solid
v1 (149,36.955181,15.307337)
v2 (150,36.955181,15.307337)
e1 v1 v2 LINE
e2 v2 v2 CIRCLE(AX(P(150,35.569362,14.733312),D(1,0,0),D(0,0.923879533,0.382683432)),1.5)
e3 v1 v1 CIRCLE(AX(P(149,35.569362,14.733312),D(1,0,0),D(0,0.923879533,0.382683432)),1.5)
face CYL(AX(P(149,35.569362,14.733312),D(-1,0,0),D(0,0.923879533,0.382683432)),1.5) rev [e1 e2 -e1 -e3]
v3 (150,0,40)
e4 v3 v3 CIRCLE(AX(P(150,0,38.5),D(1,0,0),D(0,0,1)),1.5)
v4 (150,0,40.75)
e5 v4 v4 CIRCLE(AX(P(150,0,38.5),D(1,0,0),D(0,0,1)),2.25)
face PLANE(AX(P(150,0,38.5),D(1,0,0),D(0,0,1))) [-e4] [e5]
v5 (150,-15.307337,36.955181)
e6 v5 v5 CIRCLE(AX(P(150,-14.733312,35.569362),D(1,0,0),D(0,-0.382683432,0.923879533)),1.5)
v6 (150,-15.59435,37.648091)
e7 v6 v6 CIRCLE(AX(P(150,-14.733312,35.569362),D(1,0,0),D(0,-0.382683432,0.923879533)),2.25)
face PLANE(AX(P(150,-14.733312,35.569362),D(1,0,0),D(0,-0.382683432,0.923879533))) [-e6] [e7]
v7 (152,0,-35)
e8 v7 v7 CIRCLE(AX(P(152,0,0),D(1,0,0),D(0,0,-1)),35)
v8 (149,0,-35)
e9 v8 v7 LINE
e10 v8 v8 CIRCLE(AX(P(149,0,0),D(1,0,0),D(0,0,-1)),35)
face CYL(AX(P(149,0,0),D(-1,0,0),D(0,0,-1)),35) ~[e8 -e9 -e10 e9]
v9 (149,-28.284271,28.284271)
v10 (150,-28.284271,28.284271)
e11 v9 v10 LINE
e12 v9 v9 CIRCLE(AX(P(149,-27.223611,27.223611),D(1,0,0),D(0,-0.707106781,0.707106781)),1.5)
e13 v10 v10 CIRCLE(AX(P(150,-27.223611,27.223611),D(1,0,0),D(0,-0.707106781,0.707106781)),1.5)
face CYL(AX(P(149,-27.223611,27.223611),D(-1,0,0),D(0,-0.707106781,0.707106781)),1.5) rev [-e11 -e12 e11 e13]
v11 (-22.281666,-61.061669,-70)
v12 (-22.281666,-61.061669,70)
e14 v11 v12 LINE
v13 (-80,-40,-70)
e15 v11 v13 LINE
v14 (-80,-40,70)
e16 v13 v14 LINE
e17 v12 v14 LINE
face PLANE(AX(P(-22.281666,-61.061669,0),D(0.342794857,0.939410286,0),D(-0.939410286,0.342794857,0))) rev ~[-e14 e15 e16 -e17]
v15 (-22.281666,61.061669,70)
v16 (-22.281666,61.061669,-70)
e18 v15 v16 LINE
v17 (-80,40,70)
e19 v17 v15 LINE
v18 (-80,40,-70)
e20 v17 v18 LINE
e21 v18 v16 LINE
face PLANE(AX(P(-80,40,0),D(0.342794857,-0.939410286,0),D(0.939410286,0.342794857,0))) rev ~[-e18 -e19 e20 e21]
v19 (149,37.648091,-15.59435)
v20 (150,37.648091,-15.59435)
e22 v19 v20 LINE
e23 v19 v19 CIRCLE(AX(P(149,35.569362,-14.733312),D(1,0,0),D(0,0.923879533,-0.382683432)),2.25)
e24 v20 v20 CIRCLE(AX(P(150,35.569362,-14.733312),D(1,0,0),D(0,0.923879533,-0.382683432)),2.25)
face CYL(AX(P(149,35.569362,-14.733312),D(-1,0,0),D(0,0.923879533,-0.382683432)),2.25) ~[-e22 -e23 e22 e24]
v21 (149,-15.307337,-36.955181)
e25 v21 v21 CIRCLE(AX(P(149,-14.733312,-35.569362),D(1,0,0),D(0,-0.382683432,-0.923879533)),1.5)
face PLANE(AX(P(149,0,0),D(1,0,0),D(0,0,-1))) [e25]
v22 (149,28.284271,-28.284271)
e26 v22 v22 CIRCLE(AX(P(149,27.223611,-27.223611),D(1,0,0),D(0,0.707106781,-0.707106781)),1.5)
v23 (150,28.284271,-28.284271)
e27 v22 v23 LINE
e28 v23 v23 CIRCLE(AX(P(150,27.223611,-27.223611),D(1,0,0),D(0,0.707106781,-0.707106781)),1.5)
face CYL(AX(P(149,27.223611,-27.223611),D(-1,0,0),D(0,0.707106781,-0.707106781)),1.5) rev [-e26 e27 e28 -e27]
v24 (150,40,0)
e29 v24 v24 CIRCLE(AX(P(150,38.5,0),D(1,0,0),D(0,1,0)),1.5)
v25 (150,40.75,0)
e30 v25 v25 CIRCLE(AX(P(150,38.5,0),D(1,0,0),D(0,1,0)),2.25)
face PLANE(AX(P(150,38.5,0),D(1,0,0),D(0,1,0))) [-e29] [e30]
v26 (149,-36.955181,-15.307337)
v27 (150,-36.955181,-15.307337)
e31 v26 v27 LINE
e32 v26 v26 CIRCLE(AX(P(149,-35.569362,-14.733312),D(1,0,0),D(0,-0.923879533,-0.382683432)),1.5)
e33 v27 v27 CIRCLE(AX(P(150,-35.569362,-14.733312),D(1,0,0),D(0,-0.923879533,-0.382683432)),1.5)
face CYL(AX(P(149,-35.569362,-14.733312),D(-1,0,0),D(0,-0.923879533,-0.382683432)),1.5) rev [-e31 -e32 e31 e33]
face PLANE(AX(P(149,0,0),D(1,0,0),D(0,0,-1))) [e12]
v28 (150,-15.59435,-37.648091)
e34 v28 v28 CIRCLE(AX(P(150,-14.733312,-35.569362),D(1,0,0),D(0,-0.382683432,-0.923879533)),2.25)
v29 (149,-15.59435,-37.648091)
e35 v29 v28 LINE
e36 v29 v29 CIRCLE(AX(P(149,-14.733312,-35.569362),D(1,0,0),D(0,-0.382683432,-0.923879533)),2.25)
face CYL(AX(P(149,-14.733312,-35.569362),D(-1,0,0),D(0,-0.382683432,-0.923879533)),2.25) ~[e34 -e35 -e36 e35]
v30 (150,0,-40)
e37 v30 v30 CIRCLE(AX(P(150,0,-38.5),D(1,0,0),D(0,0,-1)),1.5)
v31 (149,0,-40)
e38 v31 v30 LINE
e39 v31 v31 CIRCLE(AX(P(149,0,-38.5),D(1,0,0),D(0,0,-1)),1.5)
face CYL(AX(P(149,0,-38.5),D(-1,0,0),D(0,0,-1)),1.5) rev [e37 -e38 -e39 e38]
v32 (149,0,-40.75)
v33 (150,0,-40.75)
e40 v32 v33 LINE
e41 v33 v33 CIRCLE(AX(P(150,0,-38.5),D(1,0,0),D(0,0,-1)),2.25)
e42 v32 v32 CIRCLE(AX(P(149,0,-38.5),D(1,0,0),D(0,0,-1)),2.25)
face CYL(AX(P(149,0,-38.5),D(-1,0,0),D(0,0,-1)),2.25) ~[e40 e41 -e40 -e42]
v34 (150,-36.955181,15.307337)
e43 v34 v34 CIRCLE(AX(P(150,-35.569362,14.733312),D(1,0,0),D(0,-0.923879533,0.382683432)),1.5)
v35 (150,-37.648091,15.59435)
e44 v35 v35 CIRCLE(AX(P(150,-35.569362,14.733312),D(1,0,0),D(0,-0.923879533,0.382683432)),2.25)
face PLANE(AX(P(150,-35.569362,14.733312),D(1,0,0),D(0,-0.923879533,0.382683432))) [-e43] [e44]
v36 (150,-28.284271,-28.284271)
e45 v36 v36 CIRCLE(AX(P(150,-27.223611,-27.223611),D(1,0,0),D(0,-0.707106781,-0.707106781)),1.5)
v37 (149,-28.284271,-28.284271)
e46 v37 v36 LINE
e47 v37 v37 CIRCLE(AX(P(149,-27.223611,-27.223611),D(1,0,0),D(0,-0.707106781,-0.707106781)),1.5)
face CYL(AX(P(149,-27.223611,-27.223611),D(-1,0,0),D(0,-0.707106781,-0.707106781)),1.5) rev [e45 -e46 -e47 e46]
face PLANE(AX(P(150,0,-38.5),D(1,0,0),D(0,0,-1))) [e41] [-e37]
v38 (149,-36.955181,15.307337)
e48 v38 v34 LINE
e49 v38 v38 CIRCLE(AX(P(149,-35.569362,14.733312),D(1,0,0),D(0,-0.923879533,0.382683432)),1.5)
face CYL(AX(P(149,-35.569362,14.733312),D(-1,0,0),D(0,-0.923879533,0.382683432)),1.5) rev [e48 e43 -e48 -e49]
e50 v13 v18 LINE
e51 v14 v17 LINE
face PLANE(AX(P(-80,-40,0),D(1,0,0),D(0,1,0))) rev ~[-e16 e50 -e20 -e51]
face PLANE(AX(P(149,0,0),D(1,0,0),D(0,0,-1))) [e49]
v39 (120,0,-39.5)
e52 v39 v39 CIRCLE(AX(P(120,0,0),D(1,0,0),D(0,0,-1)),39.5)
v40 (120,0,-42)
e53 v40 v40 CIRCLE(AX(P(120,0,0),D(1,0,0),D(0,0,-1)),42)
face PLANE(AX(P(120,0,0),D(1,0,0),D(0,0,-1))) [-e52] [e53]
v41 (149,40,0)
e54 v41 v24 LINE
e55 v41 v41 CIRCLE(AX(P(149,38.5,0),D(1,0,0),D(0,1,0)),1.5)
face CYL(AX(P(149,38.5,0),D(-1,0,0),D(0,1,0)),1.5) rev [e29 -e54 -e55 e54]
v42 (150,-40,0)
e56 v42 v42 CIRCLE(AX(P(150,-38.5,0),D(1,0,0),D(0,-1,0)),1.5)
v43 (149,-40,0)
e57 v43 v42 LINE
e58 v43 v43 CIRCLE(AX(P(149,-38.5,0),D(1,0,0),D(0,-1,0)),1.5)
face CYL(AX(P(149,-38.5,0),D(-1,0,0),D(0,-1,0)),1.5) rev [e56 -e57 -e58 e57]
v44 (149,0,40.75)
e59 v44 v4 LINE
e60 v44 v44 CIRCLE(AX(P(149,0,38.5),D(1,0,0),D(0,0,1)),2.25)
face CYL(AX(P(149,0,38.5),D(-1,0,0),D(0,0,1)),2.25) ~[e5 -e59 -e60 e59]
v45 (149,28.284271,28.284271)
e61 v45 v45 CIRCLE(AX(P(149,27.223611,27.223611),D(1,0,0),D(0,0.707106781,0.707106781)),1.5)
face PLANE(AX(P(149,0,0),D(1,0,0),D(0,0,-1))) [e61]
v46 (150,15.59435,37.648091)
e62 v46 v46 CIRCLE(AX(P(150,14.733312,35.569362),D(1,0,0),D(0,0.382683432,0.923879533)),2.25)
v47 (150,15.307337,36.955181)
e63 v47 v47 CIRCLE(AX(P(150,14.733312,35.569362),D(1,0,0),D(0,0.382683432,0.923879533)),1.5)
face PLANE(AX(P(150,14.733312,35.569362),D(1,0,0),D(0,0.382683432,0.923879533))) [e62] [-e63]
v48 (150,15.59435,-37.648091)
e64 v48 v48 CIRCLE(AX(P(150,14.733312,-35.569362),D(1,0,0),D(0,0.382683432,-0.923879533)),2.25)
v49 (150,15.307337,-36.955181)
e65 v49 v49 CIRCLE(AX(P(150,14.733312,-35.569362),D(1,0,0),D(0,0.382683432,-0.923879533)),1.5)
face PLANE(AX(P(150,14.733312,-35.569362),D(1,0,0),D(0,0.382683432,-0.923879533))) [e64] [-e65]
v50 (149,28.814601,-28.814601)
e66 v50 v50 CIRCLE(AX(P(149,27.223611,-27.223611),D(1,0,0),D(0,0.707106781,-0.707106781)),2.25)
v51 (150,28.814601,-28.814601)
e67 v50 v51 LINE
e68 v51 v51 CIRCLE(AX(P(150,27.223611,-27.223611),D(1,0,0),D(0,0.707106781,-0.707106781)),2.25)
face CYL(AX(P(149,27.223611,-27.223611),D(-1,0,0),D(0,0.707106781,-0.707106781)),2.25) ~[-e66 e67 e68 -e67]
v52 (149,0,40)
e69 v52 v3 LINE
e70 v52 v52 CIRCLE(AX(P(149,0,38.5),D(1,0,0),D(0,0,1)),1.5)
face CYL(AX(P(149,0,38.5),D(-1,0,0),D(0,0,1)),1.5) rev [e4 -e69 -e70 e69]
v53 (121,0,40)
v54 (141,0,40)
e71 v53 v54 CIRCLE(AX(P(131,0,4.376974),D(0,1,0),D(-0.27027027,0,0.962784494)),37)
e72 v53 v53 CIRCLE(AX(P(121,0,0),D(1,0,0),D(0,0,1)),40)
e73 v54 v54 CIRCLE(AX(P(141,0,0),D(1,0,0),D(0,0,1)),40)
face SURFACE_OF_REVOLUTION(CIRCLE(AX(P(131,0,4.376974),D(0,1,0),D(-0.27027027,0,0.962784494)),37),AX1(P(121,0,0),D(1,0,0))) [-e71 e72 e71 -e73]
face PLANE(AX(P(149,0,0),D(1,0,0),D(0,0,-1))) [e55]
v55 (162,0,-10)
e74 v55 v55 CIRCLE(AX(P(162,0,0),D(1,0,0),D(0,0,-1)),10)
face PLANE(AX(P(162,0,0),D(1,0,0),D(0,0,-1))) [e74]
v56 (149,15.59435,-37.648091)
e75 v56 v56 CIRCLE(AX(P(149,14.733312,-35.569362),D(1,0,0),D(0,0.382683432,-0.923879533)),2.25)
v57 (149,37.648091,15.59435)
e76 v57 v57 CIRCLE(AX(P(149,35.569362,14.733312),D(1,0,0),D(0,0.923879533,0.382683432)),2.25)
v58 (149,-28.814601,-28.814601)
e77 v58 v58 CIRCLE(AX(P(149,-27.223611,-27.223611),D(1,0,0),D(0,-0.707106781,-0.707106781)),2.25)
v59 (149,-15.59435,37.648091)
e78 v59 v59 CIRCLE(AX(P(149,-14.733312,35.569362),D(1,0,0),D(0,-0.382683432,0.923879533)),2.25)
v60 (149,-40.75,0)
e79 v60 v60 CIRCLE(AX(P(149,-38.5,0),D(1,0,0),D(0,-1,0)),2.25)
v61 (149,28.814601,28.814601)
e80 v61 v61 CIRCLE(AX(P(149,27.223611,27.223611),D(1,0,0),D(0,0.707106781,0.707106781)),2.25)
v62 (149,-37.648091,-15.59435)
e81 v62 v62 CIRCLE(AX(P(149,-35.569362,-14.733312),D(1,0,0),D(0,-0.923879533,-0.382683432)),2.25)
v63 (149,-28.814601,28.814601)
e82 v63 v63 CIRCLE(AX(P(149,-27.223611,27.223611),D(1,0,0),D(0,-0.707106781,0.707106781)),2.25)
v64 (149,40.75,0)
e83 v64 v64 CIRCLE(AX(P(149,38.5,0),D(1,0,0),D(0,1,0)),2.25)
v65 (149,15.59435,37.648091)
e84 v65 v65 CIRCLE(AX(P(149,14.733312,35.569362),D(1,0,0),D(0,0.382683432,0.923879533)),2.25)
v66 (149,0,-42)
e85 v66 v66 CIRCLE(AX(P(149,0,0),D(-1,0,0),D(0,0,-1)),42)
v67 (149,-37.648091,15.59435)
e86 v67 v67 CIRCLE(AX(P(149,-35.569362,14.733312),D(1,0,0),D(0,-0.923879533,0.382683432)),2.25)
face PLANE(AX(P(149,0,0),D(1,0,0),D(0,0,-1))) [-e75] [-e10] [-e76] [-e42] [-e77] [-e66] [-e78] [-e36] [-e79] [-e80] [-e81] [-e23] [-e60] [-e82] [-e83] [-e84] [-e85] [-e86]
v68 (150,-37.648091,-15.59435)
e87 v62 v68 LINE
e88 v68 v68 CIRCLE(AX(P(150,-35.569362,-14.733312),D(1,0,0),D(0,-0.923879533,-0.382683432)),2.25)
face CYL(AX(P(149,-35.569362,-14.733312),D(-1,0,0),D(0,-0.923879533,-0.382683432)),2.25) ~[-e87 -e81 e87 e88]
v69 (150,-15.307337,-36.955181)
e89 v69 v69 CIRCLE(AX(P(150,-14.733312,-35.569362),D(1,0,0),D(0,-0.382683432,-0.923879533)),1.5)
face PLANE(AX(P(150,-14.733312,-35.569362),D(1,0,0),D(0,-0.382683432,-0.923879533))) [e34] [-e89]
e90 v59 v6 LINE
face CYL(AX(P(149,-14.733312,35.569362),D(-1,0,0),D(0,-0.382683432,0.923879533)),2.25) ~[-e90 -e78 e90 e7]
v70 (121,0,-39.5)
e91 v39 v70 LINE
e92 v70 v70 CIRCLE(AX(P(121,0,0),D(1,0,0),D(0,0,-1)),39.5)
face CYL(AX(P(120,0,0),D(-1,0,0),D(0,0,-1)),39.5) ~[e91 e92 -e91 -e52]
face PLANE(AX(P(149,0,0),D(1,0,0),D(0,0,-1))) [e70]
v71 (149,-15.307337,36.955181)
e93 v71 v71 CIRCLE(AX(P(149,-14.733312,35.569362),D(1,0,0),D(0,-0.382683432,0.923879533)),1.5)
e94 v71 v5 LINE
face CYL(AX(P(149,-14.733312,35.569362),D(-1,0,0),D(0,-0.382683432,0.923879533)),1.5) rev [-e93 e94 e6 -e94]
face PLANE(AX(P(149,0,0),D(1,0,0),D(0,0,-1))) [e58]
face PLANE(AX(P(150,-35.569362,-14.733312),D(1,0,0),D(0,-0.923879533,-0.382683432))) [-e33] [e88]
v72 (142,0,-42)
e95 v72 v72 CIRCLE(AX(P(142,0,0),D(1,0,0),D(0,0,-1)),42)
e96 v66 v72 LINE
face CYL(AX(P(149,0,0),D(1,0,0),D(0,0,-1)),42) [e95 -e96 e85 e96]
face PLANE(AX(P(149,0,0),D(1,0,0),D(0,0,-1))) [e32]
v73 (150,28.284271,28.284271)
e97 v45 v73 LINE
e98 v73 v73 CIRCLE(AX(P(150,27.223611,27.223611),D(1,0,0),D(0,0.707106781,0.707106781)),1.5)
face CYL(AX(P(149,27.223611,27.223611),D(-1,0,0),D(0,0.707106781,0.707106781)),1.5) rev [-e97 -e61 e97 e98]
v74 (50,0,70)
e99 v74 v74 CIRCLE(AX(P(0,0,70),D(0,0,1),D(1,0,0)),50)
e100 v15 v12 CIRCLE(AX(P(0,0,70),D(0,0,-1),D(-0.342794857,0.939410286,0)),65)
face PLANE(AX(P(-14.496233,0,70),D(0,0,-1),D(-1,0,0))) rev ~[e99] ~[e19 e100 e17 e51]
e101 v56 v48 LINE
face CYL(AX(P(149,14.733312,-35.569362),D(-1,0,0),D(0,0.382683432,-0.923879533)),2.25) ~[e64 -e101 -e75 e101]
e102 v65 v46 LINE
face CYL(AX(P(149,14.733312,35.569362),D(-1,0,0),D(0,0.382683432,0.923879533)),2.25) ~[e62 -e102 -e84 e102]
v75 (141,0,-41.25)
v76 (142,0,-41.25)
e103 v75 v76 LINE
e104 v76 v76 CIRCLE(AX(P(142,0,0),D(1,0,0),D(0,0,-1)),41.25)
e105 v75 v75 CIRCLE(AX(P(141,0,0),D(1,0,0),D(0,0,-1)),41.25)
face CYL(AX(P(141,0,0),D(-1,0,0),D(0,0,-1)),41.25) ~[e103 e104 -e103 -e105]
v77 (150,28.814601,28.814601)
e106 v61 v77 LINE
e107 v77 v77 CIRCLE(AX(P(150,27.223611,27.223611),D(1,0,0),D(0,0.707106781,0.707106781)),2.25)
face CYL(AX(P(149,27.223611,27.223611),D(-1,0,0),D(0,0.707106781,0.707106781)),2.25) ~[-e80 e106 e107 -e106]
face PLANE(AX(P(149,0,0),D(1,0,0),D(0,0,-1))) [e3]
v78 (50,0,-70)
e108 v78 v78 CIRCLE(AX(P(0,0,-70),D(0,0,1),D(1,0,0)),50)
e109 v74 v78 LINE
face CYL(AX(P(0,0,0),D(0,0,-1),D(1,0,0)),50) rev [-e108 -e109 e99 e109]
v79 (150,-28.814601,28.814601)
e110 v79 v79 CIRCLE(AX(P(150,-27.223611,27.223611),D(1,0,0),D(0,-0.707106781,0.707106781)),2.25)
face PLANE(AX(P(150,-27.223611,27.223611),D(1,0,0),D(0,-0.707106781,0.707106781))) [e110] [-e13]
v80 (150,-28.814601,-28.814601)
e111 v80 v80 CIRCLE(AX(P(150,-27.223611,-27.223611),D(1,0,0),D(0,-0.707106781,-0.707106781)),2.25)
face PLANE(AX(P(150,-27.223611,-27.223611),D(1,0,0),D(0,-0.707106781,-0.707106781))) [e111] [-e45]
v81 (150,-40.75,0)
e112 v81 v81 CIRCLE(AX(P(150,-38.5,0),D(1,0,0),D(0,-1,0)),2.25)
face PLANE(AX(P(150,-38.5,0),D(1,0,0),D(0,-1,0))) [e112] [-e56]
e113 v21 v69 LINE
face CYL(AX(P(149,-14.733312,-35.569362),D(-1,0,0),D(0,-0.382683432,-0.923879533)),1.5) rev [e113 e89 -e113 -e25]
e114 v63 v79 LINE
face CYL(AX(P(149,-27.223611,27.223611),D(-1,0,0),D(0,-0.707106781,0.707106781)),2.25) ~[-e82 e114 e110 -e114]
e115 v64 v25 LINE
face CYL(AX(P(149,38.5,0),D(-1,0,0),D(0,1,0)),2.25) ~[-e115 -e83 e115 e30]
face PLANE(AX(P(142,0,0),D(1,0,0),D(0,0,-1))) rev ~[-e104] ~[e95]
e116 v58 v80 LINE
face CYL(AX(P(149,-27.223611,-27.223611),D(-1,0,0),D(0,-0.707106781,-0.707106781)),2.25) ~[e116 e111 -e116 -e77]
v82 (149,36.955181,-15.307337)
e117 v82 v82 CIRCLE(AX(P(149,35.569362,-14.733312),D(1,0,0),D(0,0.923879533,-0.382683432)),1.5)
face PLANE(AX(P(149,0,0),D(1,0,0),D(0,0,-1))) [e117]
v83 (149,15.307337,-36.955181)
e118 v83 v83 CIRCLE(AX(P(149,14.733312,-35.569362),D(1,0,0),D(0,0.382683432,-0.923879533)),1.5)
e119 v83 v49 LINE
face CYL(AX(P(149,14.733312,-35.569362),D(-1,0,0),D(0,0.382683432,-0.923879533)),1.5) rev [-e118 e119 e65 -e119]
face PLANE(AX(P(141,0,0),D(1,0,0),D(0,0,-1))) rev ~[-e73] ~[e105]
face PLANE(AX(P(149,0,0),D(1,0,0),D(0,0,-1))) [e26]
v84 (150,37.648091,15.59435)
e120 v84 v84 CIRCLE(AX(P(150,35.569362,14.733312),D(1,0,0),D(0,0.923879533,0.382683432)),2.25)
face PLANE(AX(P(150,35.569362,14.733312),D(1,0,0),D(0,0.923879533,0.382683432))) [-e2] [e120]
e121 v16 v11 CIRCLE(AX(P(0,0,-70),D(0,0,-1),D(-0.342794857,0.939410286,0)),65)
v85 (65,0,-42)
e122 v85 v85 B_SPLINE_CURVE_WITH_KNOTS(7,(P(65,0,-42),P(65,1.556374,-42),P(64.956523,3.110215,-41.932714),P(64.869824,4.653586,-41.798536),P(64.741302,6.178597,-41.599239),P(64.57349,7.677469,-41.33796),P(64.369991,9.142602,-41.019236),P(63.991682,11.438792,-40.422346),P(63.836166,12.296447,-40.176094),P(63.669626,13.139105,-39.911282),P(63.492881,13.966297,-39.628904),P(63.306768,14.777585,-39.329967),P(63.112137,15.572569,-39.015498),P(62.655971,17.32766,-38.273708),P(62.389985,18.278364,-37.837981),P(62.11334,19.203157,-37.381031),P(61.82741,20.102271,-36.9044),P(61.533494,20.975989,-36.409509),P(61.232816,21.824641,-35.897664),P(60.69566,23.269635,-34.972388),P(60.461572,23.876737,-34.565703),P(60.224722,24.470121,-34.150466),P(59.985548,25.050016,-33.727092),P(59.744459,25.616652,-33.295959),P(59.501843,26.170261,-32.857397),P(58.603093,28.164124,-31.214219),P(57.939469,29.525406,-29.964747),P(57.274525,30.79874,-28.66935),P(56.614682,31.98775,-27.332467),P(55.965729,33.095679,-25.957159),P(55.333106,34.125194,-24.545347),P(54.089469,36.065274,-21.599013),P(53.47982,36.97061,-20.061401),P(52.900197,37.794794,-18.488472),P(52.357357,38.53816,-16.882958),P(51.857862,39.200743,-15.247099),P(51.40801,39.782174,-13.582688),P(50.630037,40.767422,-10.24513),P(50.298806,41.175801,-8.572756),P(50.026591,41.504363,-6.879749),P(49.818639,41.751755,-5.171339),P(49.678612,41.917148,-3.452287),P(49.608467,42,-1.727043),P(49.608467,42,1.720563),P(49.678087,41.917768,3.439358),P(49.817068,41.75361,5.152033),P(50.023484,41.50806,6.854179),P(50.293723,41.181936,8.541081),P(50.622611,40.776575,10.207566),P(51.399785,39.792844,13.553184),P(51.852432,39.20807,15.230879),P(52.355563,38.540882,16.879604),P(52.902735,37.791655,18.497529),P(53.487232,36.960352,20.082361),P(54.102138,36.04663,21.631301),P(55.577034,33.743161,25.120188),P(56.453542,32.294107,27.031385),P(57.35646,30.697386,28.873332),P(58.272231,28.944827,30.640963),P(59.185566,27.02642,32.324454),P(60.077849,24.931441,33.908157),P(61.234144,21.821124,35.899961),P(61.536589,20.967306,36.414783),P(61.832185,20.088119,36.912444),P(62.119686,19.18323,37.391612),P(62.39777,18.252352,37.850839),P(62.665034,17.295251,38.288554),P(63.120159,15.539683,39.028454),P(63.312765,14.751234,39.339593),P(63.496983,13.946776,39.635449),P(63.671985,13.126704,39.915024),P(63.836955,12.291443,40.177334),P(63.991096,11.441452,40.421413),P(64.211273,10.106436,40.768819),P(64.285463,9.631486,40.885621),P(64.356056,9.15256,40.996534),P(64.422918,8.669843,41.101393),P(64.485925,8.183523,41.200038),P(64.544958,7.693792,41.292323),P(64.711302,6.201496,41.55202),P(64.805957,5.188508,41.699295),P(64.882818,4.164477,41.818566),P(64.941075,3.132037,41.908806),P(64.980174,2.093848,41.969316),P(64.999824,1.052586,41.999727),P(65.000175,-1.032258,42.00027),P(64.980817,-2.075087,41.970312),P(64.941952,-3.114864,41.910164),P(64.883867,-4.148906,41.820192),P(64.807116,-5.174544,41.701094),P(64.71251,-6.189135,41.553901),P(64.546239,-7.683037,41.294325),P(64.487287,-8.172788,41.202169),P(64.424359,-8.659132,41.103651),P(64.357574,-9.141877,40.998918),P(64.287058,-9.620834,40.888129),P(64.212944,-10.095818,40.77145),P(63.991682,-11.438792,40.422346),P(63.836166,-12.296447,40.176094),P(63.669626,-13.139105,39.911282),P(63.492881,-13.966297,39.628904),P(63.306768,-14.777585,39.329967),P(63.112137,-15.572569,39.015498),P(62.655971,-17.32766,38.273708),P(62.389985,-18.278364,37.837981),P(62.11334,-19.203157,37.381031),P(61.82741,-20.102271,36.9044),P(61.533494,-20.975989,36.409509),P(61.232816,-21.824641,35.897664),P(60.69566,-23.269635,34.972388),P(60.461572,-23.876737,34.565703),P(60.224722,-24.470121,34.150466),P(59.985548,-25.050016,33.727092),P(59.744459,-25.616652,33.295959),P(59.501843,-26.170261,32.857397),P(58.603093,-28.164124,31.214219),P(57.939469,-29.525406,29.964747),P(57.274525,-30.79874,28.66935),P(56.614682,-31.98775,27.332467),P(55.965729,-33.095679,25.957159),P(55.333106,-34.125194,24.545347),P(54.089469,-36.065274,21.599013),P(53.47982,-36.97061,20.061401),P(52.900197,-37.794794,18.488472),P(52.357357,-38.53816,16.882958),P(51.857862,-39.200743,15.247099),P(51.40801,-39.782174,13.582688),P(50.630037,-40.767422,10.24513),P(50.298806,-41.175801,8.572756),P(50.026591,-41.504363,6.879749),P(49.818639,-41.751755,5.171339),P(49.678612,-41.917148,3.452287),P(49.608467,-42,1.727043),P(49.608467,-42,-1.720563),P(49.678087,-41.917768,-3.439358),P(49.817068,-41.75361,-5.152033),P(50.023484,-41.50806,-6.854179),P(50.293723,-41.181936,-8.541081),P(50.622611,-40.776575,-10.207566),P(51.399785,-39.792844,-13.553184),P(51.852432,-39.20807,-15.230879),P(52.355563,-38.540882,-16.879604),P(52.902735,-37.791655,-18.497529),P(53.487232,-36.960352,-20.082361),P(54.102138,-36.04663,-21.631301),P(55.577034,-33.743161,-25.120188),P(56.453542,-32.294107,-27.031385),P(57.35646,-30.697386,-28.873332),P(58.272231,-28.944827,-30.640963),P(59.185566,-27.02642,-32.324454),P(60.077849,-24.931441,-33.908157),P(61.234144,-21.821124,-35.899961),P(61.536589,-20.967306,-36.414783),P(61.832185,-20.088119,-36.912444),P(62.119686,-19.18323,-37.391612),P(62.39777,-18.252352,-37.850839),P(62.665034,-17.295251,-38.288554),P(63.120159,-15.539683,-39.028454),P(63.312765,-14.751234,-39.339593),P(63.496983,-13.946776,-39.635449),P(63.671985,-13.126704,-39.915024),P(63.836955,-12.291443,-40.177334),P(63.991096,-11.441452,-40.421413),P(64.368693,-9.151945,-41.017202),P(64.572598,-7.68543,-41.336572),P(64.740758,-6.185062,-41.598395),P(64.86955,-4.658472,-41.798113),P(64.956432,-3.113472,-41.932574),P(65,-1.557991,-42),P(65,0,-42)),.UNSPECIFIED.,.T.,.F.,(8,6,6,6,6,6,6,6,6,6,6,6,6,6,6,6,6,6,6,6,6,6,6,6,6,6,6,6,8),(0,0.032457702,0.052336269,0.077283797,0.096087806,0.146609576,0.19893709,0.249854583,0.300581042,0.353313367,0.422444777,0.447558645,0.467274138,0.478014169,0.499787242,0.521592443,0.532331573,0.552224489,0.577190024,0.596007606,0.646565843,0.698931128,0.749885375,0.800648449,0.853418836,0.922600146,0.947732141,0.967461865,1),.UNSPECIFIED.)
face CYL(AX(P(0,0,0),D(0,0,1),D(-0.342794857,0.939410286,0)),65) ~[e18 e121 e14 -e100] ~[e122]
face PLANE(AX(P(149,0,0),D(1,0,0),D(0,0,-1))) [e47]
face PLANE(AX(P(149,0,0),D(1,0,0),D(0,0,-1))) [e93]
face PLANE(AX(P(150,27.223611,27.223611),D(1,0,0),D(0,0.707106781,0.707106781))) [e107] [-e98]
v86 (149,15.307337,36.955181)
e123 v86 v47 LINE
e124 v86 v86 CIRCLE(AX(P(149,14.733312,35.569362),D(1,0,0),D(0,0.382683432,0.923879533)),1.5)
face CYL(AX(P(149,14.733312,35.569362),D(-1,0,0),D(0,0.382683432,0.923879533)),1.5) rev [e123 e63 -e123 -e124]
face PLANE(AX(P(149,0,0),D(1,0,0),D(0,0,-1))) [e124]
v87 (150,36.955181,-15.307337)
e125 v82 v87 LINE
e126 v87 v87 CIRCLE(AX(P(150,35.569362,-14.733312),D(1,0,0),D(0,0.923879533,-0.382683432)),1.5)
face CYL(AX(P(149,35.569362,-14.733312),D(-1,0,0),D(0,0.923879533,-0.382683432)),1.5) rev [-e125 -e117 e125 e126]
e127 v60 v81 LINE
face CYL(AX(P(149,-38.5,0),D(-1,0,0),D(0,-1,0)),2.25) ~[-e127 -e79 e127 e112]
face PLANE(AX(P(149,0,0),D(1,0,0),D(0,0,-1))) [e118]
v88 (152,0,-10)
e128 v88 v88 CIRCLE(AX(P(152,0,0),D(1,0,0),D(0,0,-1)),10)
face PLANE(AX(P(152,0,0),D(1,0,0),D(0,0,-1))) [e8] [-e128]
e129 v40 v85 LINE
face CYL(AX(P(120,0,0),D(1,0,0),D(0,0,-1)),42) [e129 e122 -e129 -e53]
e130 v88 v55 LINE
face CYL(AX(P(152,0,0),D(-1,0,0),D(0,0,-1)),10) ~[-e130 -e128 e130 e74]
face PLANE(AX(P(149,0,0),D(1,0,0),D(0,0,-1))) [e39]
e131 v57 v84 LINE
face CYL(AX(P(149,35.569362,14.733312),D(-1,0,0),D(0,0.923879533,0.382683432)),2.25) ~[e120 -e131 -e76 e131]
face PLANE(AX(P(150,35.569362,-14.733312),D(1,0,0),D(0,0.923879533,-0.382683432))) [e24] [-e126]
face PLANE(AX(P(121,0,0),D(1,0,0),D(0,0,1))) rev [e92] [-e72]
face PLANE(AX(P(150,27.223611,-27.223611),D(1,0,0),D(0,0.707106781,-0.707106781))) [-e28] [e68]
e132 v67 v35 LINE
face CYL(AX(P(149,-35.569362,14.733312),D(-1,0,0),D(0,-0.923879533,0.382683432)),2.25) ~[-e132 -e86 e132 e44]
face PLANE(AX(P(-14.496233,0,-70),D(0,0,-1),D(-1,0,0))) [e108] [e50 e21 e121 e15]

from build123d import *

# Parameters (mm, degrees)
SKETCH1_R                = 50
BOSS_EXTRUDE1_DEPTH      = 70
BOSS_EXTRUDE2_REACH      = 223.642
BOSS_EXTRUDE2_END_RADIUS = 65
SKETCH2_R                = 42
SKETCH3_R                = 39.5
BOSS_EXTRUDE3_DEPTH      = 1
SKETCH6_R                = 41.25
BOSS_EXTRUDE4_DEPTH      = 1
BOSS_EXTRUDE5_START      = 7
SKETCH7_R                = 42
BOSS_EXTRUDE5_DEPTH      = 7
SKETCH8_R                = 35
BOSS_EXTRUDE6_DEPTH      = 3
SKETCH9_R                = 2.25
SKETCH9_R_2              = 1.5
BOSS_EXTRUDE8_DEPTH      = 1
CIRPATTERN1_COUNT        = 16
SKETCH10_R               = 10
BOSS_EXTRUDE9_DEPTH      = 10


with BuildPart() as part:
    # Sketch1 → Boss-Extrude1 (new, symmetric)
    with BuildSketch(Plane.XY):
        with BuildLine():
            Line((-80, -40), (-80, 40))
            Line((-80, 40), (-22.281665693, 61.061668614))
            ThreePointArc((-22.281665693, 61.061668614), (65, 0), (-22.281665693, -61.061668614))
            Line((-22.281665693, -61.061668614), (-80, -40))
        make_face()
        Circle(SKETCH1_R, mode=Mode.SUBTRACT)
    extrude(amount=BOSS_EXTRUDE1_DEPTH, both=True)

    # Boss-Extrude2: up to this cylinder (the profile starts outside it)
    boss_extrude2_end = Plane(origin=(0, 0, 0), z_dir=(0, 0, -1)) * Cylinder(BOSS_EXTRUDE2_END_RADIUS, 578.284, mode=Mode.PRIVATE)
    # Sketch2 → Boss-Extrude2 (add, up to the surface)
    with BuildSketch(Plane(origin=(120, 0, 0), x_dir=(0, 0, -1), z_dir=(1, 0, 0)), mode=Mode.PRIVATE) as boss_extrude2_sk1:
        Circle(SKETCH2_R)
    boss_extrude2_tool1 = extrude(boss_extrude2_sk1.sketch, amount=-BOSS_EXTRUDE2_REACH, mode=Mode.PRIVATE) - boss_extrude2_end
    add(boss_extrude2_tool1.solids().sort_by_distance((120, 0, 0))[0])

    # Sketch3 → Boss-Extrude3 (add)
    with BuildSketch(Plane(origin=(120, 0, 0), x_dir=(0, 0, -1), z_dir=(1, 0, 0))):
        Circle(SKETCH3_R)
    extrude(amount=BOSS_EXTRUDE3_DEPTH)

    # Sketch5 → Revolve1 (revolve)
    with BuildSketch(Plane.XY, mode=Mode.PRIVATE) as revolve1_sk:
        with BuildLine():
            Line((121, 0), (121, 40))
            ThreePointArc((121, 40), (131, 41.376973739), (141, 40))
            Line((141, 40), (141, 0))
            Line((141, 0), (121, 0))
        make_face()
    revolve(revolve1_sk.sketch.rotate(Axis((121, 0, 0), (1, 0, 0)), 90), axis=Axis((121, 0, 0), (1, 0, 0)))

    # Sketch6 → Boss-Extrude4 (add)
    with BuildSketch(Plane(origin=(141, 0, 0), x_dir=(0, 0, -1), z_dir=(1, 0, 0))):
        Circle(SKETCH6_R)
    extrude(amount=BOSS_EXTRUDE4_DEPTH)

    # Sketch7 → Boss-Extrude5 (add)
    with BuildSketch(Plane(origin=(142, 0, 0), x_dir=(0, 0, -1), z_dir=(1, 0, 0)).offset(BOSS_EXTRUDE5_START)):
        Circle(SKETCH7_R)
    boss_extrude5 = extrude(amount=-BOSS_EXTRUDE5_DEPTH)

    # Sketch8 → Boss-Extrude6 (add)
    with BuildSketch(Plane(origin=(149, 0, 0), x_dir=(0, 0, -1), z_dir=(1, 0, 0))):
        Circle(SKETCH8_R)
    extrude(amount=BOSS_EXTRUDE6_DEPTH)

    # Sketch9 → Boss-Extrude8 (add)
    with BuildSketch(Plane(origin=(149, 0, 0), x_dir=(0, 0, -1), z_dir=(1, 0, 0))):
        with Locations((38.5, 0)):
            Circle(SKETCH9_R)
        with Locations((38.5, 0)):
            Circle(SKETCH9_R_2, mode=Mode.SUBTRACT)
    boss_extrude8 = extrude(amount=BOSS_EXTRUDE8_DEPTH)

    # CirPattern1: Boss-Extrude5, Boss-Extrude8 ×16 about axis
    cirpattern1_axis = Axis((0, 0, 0), (1, 0, 0))
    add([boss_extrude5.rotate(cirpattern1_axis, i * 360 / CIRPATTERN1_COUNT) for i in range(1, CIRPATTERN1_COUNT)])
    add([boss_extrude8.rotate(cirpattern1_axis, i * 360 / CIRPATTERN1_COUNT) for i in range(1, CIRPATTERN1_COUNT)])

    # Sketch10 → Boss-Extrude9 (add)
    with BuildSketch(Plane(origin=(152, 0, 0), x_dir=(0, 0, -1), z_dir=(1, 0, 0))):
        Circle(SKETCH10_R)
    extrude(amount=BOSS_EXTRUDE9_DEPTH)


solid = part.part
